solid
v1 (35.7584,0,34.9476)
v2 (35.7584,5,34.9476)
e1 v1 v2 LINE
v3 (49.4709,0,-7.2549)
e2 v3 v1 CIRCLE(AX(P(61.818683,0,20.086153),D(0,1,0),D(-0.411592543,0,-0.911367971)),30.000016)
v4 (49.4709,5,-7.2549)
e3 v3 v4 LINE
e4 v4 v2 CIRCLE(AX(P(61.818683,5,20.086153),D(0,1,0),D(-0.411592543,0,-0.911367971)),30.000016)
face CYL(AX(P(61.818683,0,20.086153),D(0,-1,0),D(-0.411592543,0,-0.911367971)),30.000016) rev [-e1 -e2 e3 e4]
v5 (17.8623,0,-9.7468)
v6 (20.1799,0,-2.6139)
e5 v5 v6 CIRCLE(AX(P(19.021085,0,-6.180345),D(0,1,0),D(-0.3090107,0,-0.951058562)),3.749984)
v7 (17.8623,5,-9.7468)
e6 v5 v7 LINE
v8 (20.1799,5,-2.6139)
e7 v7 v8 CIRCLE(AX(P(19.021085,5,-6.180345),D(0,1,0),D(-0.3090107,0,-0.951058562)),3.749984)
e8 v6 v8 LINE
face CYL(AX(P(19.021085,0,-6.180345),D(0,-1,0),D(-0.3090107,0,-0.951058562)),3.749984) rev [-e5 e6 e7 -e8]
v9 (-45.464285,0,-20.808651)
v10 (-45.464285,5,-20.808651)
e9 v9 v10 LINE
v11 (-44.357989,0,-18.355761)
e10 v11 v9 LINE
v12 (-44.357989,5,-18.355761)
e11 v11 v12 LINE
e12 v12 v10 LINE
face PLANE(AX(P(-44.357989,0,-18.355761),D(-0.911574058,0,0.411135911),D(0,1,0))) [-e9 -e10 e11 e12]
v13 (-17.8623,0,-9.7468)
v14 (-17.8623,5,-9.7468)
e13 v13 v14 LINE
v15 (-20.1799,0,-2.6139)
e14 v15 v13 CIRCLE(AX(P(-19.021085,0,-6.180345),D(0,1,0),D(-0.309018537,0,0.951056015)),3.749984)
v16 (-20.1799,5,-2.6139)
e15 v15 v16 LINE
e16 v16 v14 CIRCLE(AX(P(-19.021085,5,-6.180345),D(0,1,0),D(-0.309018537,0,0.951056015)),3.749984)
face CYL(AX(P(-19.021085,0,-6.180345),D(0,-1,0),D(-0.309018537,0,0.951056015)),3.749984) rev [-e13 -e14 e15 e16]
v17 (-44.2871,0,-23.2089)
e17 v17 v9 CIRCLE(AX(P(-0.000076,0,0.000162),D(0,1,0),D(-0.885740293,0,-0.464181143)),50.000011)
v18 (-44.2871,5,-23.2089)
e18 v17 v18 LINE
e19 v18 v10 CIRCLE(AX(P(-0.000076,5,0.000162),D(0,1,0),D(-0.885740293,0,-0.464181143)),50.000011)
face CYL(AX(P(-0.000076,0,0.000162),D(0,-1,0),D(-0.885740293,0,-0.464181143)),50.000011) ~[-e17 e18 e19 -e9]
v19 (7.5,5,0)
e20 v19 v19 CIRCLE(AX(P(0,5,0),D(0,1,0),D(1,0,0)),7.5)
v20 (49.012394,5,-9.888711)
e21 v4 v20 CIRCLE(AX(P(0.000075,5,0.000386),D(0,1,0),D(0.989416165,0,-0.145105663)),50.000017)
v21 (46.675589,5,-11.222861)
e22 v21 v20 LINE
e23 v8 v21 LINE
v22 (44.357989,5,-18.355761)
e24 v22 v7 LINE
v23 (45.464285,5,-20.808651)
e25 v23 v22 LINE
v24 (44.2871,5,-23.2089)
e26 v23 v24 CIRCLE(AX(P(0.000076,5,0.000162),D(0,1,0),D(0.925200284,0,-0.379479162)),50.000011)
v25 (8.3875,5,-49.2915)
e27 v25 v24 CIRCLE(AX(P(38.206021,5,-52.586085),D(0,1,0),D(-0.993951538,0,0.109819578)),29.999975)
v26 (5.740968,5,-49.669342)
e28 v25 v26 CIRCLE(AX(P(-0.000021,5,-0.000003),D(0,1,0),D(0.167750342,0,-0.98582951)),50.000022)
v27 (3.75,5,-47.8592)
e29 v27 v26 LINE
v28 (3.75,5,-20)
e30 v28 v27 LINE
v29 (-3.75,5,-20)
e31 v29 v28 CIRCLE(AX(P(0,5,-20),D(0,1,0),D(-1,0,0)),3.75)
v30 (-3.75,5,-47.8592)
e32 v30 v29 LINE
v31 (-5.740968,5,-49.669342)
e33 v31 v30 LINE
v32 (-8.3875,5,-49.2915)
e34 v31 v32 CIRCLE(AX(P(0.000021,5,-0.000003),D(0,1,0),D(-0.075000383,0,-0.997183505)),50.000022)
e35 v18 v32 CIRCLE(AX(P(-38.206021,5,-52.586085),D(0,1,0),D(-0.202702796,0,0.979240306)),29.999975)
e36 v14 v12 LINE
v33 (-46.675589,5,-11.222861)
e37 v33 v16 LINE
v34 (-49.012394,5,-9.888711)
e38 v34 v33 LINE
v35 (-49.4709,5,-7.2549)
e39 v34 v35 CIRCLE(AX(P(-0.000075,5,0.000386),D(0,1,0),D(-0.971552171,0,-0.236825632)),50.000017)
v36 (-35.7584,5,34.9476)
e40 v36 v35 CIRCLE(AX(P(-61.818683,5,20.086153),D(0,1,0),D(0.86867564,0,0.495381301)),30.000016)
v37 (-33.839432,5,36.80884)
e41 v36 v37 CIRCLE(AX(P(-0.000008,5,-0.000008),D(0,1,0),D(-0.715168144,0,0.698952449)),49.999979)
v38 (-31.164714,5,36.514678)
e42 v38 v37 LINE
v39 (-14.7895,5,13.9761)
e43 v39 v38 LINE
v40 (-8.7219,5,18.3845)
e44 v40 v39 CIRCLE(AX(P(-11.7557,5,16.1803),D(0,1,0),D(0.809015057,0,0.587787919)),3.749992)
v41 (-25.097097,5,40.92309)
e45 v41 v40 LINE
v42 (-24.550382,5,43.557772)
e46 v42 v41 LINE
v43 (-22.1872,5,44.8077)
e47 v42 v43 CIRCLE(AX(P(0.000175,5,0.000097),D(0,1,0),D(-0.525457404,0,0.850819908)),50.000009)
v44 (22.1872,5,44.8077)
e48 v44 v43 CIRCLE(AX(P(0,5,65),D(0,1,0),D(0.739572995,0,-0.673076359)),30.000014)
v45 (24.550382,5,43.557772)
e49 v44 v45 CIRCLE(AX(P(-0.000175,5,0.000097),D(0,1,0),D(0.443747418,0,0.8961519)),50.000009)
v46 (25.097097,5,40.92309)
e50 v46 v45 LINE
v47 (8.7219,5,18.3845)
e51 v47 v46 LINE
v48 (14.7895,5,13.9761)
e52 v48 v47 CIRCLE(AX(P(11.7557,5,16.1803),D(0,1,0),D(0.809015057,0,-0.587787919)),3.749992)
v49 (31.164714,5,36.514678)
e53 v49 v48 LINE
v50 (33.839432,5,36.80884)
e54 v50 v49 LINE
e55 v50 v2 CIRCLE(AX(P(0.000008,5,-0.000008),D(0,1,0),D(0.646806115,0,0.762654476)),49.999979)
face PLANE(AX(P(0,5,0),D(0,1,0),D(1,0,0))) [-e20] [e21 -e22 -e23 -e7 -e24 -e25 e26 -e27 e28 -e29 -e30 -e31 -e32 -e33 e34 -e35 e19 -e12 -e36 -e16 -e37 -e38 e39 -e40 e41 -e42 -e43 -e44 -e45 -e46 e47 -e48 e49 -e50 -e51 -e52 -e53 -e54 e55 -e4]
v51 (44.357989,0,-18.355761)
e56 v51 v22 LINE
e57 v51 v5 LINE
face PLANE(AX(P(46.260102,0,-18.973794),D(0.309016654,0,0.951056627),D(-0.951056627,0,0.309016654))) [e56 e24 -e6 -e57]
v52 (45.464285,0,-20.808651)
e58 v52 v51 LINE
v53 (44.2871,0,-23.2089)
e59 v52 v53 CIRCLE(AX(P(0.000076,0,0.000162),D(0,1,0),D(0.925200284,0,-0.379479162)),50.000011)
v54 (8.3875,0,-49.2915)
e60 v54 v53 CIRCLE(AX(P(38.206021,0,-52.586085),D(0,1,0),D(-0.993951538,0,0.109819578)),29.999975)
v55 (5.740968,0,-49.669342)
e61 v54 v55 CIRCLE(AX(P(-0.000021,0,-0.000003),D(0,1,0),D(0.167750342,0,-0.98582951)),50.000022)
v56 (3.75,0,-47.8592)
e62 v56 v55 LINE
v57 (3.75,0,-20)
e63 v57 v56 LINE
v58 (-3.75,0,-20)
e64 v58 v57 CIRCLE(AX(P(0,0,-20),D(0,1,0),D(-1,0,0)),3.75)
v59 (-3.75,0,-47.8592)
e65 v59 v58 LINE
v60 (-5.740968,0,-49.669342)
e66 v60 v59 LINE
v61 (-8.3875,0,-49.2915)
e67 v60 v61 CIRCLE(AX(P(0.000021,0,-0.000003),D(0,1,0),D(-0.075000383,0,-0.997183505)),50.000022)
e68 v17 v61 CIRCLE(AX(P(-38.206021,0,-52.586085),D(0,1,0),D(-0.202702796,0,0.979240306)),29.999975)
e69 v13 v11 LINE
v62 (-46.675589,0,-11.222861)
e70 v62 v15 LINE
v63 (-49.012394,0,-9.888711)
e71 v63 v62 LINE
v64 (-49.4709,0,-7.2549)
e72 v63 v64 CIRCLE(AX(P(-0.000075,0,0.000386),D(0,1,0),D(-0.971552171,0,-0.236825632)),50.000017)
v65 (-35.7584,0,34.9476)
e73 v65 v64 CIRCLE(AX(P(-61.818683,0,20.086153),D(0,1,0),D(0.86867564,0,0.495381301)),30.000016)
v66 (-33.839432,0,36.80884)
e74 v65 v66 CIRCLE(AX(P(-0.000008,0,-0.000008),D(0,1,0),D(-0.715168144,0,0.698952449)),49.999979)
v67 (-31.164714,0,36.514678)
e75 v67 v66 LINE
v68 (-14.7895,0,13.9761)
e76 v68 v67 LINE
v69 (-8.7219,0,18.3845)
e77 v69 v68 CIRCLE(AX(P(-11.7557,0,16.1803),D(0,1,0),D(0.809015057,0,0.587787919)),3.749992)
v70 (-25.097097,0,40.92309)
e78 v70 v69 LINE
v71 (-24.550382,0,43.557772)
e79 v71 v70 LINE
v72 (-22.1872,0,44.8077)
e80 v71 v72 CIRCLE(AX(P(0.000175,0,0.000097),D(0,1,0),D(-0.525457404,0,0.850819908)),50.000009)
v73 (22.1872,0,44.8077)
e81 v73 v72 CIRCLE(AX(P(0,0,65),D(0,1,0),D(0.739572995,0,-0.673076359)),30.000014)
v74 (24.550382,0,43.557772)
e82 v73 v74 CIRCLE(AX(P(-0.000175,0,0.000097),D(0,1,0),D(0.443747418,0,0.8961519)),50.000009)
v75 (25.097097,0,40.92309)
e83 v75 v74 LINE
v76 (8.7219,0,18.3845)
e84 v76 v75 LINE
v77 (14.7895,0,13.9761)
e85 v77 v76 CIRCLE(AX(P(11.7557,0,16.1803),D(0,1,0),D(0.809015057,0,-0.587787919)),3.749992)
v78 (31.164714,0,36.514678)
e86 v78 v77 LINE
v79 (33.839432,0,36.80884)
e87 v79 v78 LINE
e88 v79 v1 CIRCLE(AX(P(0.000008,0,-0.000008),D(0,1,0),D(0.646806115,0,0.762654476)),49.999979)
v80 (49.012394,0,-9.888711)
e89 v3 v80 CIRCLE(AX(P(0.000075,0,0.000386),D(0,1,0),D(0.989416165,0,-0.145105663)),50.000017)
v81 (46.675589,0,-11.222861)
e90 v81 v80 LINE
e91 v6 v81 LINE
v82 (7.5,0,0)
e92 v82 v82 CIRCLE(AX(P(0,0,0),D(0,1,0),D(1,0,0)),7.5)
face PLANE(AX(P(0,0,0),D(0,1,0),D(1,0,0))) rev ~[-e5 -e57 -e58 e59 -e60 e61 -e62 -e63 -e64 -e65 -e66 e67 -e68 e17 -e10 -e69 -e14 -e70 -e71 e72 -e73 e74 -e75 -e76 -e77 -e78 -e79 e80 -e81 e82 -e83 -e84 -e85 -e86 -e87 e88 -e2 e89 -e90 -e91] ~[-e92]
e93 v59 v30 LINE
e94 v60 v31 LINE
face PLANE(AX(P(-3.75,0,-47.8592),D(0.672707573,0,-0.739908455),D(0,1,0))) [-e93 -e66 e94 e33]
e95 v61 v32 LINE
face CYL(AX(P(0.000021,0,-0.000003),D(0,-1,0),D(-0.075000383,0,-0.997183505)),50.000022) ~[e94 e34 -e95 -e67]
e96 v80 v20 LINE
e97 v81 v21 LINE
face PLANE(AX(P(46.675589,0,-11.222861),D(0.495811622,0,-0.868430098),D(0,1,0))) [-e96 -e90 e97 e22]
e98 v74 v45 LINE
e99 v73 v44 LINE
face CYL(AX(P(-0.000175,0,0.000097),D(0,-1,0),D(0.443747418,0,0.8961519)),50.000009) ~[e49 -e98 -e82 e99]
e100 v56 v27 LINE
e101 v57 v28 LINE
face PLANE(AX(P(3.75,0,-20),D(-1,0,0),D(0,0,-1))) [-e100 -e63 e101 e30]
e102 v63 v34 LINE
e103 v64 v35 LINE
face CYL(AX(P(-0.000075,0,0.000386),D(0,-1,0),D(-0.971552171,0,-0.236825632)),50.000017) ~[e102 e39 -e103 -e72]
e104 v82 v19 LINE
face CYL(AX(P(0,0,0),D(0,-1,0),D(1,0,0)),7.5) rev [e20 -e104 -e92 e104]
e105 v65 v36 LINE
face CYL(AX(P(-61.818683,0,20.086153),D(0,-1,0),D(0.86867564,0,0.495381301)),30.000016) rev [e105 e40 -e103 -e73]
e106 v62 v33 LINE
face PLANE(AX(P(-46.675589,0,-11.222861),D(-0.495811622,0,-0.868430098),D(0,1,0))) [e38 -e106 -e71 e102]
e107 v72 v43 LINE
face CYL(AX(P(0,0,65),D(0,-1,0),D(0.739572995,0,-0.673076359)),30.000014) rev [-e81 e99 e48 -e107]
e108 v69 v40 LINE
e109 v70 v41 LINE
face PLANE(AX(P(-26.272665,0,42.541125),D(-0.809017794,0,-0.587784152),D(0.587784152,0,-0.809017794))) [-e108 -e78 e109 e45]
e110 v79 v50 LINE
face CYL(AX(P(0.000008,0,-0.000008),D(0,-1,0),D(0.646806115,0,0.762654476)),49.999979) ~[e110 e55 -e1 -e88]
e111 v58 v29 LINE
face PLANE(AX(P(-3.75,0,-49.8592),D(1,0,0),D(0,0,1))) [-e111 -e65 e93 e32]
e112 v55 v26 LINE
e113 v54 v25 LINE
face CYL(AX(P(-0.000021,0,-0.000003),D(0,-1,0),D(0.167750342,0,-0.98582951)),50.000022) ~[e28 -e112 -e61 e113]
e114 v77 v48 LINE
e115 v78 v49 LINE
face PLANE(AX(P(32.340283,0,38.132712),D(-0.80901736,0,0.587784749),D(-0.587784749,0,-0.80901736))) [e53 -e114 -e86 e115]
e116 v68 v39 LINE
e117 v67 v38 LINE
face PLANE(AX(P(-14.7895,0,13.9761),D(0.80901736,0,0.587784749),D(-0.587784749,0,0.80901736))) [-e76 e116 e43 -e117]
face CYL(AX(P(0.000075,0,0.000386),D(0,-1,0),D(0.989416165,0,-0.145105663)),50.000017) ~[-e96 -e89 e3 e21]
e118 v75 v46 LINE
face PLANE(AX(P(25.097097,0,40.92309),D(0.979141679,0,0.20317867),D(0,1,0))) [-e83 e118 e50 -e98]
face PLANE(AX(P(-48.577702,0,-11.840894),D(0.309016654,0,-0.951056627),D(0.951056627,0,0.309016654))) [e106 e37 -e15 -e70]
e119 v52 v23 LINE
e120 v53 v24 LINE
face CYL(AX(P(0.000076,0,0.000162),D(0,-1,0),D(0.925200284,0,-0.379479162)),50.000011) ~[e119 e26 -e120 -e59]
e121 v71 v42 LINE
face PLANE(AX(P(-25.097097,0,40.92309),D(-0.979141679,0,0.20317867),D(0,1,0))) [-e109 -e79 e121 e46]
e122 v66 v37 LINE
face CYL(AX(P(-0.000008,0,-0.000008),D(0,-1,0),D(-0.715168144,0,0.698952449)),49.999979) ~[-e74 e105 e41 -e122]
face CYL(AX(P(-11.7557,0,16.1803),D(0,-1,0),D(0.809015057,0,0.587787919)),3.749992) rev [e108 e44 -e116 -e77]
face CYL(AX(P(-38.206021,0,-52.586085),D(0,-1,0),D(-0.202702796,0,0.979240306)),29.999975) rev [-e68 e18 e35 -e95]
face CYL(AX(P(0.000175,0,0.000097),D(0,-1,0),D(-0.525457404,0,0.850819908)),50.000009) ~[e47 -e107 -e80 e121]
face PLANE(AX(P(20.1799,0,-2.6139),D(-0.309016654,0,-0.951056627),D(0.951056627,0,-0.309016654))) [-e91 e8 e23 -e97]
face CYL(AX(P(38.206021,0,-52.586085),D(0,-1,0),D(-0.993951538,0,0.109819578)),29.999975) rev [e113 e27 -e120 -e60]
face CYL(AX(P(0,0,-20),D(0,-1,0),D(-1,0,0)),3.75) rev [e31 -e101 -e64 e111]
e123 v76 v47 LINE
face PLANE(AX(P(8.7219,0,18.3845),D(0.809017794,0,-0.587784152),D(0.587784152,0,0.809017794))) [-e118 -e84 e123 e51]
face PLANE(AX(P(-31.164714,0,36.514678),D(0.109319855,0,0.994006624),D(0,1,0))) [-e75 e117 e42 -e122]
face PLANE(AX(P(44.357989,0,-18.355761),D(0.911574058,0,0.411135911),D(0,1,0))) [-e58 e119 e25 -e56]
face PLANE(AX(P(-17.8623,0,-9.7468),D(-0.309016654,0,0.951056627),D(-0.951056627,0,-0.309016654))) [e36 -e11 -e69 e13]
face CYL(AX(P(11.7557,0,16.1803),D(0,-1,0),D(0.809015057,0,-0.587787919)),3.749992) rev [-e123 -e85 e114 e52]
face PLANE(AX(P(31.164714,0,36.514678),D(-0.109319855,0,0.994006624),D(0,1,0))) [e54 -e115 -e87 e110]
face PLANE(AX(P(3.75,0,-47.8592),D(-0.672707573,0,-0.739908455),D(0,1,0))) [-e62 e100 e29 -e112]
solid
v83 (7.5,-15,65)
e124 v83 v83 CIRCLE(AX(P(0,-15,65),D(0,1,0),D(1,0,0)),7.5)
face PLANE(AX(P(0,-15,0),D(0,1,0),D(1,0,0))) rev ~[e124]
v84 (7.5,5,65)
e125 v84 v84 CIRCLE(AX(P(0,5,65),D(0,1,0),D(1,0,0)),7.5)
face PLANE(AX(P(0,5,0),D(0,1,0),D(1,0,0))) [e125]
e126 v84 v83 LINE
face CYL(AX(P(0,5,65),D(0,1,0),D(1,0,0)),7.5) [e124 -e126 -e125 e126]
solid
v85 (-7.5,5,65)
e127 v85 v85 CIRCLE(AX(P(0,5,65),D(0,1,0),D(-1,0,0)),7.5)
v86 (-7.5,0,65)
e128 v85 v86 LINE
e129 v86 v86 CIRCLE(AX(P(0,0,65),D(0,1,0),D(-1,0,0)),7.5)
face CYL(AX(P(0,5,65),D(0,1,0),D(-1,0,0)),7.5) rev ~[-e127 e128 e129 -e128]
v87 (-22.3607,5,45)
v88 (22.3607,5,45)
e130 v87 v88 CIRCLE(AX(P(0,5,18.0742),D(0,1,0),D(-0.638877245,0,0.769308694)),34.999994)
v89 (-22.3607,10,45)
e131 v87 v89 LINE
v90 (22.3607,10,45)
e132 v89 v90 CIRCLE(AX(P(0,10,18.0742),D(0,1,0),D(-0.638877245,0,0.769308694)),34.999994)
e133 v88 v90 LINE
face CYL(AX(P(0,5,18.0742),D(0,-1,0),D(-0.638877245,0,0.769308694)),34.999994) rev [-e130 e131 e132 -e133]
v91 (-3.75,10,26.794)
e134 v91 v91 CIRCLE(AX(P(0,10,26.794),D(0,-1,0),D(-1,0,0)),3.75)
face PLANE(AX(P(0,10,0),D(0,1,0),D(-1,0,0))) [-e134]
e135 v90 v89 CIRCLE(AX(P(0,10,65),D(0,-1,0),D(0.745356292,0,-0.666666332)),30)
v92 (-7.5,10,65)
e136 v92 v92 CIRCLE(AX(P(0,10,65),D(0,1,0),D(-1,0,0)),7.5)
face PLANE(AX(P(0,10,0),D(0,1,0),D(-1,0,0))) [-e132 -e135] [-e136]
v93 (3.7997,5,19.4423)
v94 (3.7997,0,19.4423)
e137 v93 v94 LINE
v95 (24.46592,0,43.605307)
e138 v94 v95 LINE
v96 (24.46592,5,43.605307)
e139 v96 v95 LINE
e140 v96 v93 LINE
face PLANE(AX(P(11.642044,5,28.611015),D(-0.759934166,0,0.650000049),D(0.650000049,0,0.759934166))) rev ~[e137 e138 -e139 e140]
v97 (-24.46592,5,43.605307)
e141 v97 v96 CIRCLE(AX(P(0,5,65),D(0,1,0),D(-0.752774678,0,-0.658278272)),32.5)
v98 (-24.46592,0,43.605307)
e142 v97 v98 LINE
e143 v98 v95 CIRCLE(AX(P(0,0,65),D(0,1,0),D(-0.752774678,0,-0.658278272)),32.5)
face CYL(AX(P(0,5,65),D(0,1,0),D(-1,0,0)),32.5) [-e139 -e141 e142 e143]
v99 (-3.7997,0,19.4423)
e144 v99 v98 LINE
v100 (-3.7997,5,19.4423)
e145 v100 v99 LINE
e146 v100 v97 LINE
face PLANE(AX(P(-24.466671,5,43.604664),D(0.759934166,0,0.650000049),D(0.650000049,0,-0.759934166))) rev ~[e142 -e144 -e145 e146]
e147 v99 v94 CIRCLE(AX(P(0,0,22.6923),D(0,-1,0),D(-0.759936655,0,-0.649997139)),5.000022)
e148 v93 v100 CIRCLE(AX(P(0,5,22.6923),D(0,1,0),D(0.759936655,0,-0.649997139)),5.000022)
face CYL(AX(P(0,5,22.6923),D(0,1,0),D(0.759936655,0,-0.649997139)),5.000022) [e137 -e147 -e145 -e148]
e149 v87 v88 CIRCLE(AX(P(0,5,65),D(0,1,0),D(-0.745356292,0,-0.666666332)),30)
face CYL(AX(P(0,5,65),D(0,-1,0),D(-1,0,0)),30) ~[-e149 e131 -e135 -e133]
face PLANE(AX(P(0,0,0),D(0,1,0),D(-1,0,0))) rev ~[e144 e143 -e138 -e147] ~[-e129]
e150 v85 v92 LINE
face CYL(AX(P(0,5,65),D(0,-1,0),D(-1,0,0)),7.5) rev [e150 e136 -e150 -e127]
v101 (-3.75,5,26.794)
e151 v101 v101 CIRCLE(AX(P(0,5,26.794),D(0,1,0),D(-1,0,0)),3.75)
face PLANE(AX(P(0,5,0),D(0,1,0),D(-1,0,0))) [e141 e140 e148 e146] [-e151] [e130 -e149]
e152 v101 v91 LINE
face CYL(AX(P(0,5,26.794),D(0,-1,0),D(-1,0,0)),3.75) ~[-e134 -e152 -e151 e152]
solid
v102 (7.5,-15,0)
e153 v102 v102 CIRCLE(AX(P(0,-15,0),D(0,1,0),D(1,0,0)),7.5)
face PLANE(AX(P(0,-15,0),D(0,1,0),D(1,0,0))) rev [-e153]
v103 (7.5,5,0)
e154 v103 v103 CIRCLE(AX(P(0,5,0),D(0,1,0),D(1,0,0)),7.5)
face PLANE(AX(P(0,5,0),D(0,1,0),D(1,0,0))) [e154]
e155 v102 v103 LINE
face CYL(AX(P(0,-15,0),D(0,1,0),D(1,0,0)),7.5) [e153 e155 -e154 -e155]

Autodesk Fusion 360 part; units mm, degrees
sketch "Sketch1" plane through (0, 0, 0) normal (0, 1, 0) x (1, 0, 0) in component "follower"
  line L0 (0, 0) -> (29.3893, -40.4508) construction
  line L1 (0, 0) -> (50, 0) construction
  line L2 (0, 0) -> (-29.3893, -40.4508) construction
  line L3 (0, 0) -> (50, 0) construction
  line L4 (8.7219, -18.3845) -> (26.3554, -42.655)
  line L5 (32.4231, -38.2467) -> (14.7895, -13.9761)
  arc A0 (14.7895, -13.9761) -> (8.7219, -18.3845) centre (11.7557, -16.1803) ccw
  line L6 (11.7557, -16.1803) -> (29.3893, -40.4508) construction
  line L7 (20.1799, 2.6139) -> (48.7116, 11.8844)
  arc A1 (17.8623, 9.7468) -> (20.1799, 2.6139) centre (19.0211, 6.1803) ccw
  line L8 (46.394, 19.0173) -> (17.8623, 9.7468)
  line L9 (3.75, 20) -> (3.75, 50)
  arc A2 (-3.75, 20) -> (3.75, 20) centre (0, 20) ccw
  line L10 (-3.75, 50) -> (-3.75, 20)
  line L11 (-17.8623, 9.7468) -> (-46.394, 19.0173)
  arc A3 (-20.1799, 2.6139) -> (-17.8623, 9.7468) centre (-19.0211, 6.1803) ccw
  line L12 (-48.7116, 11.8844) -> (-20.1799, 2.6139)
  line L13 (-14.7895, -13.9761) -> (-32.4231, -38.2467)
  arc A4 (-8.7219, -18.3845) -> (-14.7895, -13.9761) centre (-11.7557, -16.1803) ccw
  line L14 (-26.3554, -42.655) -> (-8.7219, -18.3845)
  circle A5 centre (0, 0) radius 7.5
  arc A6 (-31.5791, -43.4951) -> (-18.1729, -31.3928) centre (0, -65) ccw construction
  arc A7 (22.1872, -44.8077) -> (-22.1872, -44.8077) centre (0, -65) ccw
  arc A8 (-26.2727, -42.5411) -> (-22.1872, -44.8077) centre (0, 0) ccw
  arc A9 (22.1872, -44.8077) -> (26.2727, -42.5411) centre (0, 0) ccw
  arc A10 (29.3183, -40.5023) -> (29.3893, -40.4508) centre (0, 0) ccw
  arc A11 (49.4709, 7.2549) -> (35.7584, -34.9476) centre (61.8187, -20.0861) ccw
  arc A12 (8.3875, 49.2915) -> (44.2871, 23.2089) centre (38.206, 52.5861) ccw
  arc A13 (-44.2871, 23.2089) -> (-8.3875, 49.2915) centre (-38.206, 52.5861) ccw
  arc A14 (-35.7584, -34.9476) -> (-49.4709, 7.2549) centre (-61.8187, -20.0861) ccw
  arc A15 (-48.5777, 11.8409) -> (-49.4709, 7.2549) centre (0, 0) ccw
  arc A16 (-35.7584, -34.9476) -> (-32.3403, -38.1327) centre (0, 0) ccw
  arc A17 (32.3403, -38.1327) -> (35.7584, -34.9476) centre (0, 0) ccw
  arc A18 (49.4709, 7.2549) -> (48.5777, 11.8409) centre (0, 0) ccw
  arc A19 (46.2601, 18.9738) -> (44.2871, 23.2089) centre (0, 0) ccw
  arc A20 (8.3875, 49.2915) -> (3.75, 49.8592) centre (0, 0) ccw
  arc A21 (-3.75, 49.8592) -> (-8.3875, 49.2915) centre (0, 0) ccw
  arc A22 (-44.2871, 23.2089) -> (-46.2601, 18.9738) centre (0, 0) ccw
  dimension "d1" = 100
  dimension "d2" = 50
  dimension "d3" = 54
  dimension "d4" = 126
  dimension "d5" = 65
  dimension "d6" = 60
  dimension "d8" = 20
  dimension "d11" = 15
  dimension "d13" = 360
extrude "Extrude1" add sketch "Sketch1" along normal blind 5 makes body 1 in component "follower"
chamfer "Chamfer1" distance 2 angle 45 10 edges at (26.2727, 2.5, 42.5411) (32.3403, 2.5, 38.1327) (48.5777, 2.5, -11.8409) (46.2601, 2.5, -18.9738) (3.75, 2.5, -49.8592) (-3.75, 2.5, -49.8592) (-46.2601, 2.5, -18.9738) (-48.5777, 2.5, -11.8409) (-32.3403, 2.5, 38.1327) (-26.2727, 2.5, 42.5411) on bodies 1 in component "follower"
sketch "Sketch1 (2)" plane through (0, 5, 0) normal (0, 1, 0) x (-1, 0, 0) in component "cam"
  line L0 (25.0971, 40.9231) -> (24.5504, 43.5578)
  arc A0 (24.5504, 43.5578) -> (22.1872, 44.8077) centre (0, 0) ccw
  arc A1 (-22.1872, 44.8077) -> (22.1872, 44.8077) centre (0, 65) ccw
  arc A2 (-22.1872, 44.8077) -> (-24.5504, 43.5578) centre (0, 0) ccw
  line L1 (-24.5504, 43.5578) -> (-25.0971, 40.9231)
  line L2 (-25.0971, 40.9231) -> (-8.7219, 18.3845)
  arc A3 (-14.7895, 13.9761) -> (-8.7219, 18.3845) centre (-11.7557, 16.1803) ccw
  line L3 (-14.7895, 13.9761) -> (-31.1647, 36.5147)
  line L4 (-31.1647, 36.5147) -> (-33.8394, 36.8089)
  arc A4 (-33.8394, 36.8089) -> (-35.7584, 34.9476) centre (0, 0) ccw
  arc A5 (-49.4709, -7.2549) -> (-35.7584, 34.9476) centre (-61.8187, 20.0861) ccw
  arc A6 (-49.4709, -7.2549) -> (-49.0124, -9.8887) centre (0, 0) ccw
  line L5 (-49.0124, -9.8887) -> (-46.6756, -11.2228)
  line L6 (-46.6756, -11.2228) -> (-20.1799, -2.6139)
  arc A7 (-17.8623, -9.7468) -> (-20.1799, -2.6139) centre (-19.0211, -6.1803) ccw
  line L7 (-17.8623, -9.7468) -> (-44.358, -18.3558)
  line L8 (-44.358, -18.3558) -> (-45.4643, -20.8086)
  arc A8 (-45.4643, -20.8086) -> (-44.2871, -23.2089) centre (0, 0) ccw
  arc A9 (-8.3875, -49.2915) -> (-44.2871, -23.2089) centre (-38.206, -52.5861) ccw
  arc A10 (-8.3875, -49.2915) -> (-5.741, -49.6693) centre (0, 0) ccw
  line L9 (-5.741, -49.6693) -> (-3.75, -47.8592)
  line L10 (-3.75, -47.8592) -> (-3.75, -20)
  arc A11 (3.75, -20) -> (-3.75, -20) centre (0, -20) ccw
  line L11 (3.75, -20) -> (3.75, -47.8592)
  line L12 (3.75, -47.8592) -> (5.741, -49.6693)
  arc A12 (5.741, -49.6693) -> (8.3875, -49.2915) centre (0, 0) ccw
  arc A13 (44.2871, -23.2089) -> (8.3875, -49.2915) centre (38.206, -52.5861) ccw
  arc A14 (44.2871, -23.2089) -> (45.4643, -20.8086) centre (0, 0) ccw
  line L13 (45.4643, -20.8086) -> (44.358, -18.3558)
  line L14 (44.358, -18.3558) -> (17.8623, -9.7468)
  arc A15 (20.1799, -2.6139) -> (17.8623, -9.7468) centre (19.0211, -6.1803) ccw
  line L15 (20.1799, -2.6139) -> (46.6756, -11.2228)
  line L16 (46.6756, -11.2228) -> (49.0124, -9.8887)
  arc A16 (49.0124, -9.8887) -> (49.4709, -7.2549) centre (0, 0) ccw
  arc A17 (35.7584, 34.9476) -> (49.4709, -7.2549) centre (61.8187, 20.0861) ccw
  arc A18 (35.7584, 34.9476) -> (33.8394, 36.8089) centre (0, 0) ccw
  line L17 (33.8394, 36.8089) -> (31.1647, 36.5147)
  line L18 (31.1647, 36.5147) -> (14.7895, 13.9761)
  arc A19 (8.7219, 18.3845) -> (14.7895, 13.9761) centre (11.7557, 16.1803) ccw
  line L19 (8.7219, 18.3845) -> (25.0971, 40.9231)
  circle A20 centre (0, 0) radius 7.5
  arc A21 (31.5791, 43.4951) -> (18.1729, 31.3928) centre (0, 65) ccw
  circle A22 centre (0, 65) radius 30
  circle A23 centre (0, 65) radius 32.5
  circle A24 centre (0, 65) radius 7.5
  line L20 (0, 0) -> (0, 35)
  circle A25 centre (0, 26.794) radius 3.75
  line L21 (24.6979, 43.875) -> (3.7997, 19.4423)
  line L22 (-3.7997, 19.4423) -> (-24.6979, 43.875)
  arc A26 (-3.7997, 19.4423) -> (3.7997, 19.4423) centre (0, 22.6923) ccw
  arc A27 (22.3607, 45) -> (-22.3607, 45) centre (0, 18.0742) ccw
  point P0 (0, 15)
  dimension "d17" = 60
  dimension "d18" = 65
  dimension "d19" = 15
  dimension "d20" = 7.5
  dimension "d21" = 15
  dimension "d22" = 5
  dimension "d23" = 20
  dimension "d24" = 35
extrude "Extrude1'" add sketch "Sketch1 (2)" against normal blind 5 separate body contours A0 A1 A22 A23 L20 | A21 A23 L20 A25 L21 | A0 A2 A22 A23 L21 L22 | A21 L20 A25 L21 A26 | A1 A22 A27 | A21 A23 L20 A25 L22 | A1 A2 A22 A23 L20 | A21 L20 A25 | A21 L20 A25 | A22 A27 | A21 L20 A25 | A21 L20 A25 | A21 L20 A25 L22 A26 makes body 2 in component "cam"
extrude "Extrude2" add sketch "Sketch1 (2)" along normal blind 5 contours A21 L20 A25 | A21 L20 A25 | A22 A27 | A21 L20 A25 | A21 L20 A25 bodies 2 in component "cam"
cylinder "CylinderPrimitive1" add diameter 15 height -20 placed x (1, 0, 0) y (0, 0, -1) z (0, 1, 0) at (0, 5, 0) separate body makes body 3 in component "shaft"
sketch "Sketch1 (3)" plane through (0, 0, 0) normal (0, 1, 0) x (1, 0, 0) in component "Component"
  circle A0 centre (0, -65) radius 7.5
  circle A1 centre (0, -65) radius 7.5
  arc A2 (-22.3607, -45) -> (22.3607, -45) centre (0, -65) ccw
  arc A3 (-22.3607, -45) -> (22.3607, -45) centre (0, -18.0742) ccw
  dimension "d33" = 15
extrude "Extrude1''" add sketch "Sketch1 (3)" along normal blind -15 and the other way blind -5 separate body contours A0 A1 makes body 4 in component "Component"
component "cam" placed x (1, 0, 0) y (0, 1, 0) z (0, 0, 1) at (0, 0, 0)
component "shaft" placed x (1, 0, 0) y (0, 1, 0) z (0, 0, 1) at (0, 0, 0)
component "follower" placed x (1, 0, 0) y (0, 1, 0) z (0, 0, 1) at (0, 0, 0)
component "Component" placed x (1, 0, 0) y (0, 1, 0) z (0, 0, 1) at (0, 0, 0)
equation "d4 = 180 deg - 54 deg"
